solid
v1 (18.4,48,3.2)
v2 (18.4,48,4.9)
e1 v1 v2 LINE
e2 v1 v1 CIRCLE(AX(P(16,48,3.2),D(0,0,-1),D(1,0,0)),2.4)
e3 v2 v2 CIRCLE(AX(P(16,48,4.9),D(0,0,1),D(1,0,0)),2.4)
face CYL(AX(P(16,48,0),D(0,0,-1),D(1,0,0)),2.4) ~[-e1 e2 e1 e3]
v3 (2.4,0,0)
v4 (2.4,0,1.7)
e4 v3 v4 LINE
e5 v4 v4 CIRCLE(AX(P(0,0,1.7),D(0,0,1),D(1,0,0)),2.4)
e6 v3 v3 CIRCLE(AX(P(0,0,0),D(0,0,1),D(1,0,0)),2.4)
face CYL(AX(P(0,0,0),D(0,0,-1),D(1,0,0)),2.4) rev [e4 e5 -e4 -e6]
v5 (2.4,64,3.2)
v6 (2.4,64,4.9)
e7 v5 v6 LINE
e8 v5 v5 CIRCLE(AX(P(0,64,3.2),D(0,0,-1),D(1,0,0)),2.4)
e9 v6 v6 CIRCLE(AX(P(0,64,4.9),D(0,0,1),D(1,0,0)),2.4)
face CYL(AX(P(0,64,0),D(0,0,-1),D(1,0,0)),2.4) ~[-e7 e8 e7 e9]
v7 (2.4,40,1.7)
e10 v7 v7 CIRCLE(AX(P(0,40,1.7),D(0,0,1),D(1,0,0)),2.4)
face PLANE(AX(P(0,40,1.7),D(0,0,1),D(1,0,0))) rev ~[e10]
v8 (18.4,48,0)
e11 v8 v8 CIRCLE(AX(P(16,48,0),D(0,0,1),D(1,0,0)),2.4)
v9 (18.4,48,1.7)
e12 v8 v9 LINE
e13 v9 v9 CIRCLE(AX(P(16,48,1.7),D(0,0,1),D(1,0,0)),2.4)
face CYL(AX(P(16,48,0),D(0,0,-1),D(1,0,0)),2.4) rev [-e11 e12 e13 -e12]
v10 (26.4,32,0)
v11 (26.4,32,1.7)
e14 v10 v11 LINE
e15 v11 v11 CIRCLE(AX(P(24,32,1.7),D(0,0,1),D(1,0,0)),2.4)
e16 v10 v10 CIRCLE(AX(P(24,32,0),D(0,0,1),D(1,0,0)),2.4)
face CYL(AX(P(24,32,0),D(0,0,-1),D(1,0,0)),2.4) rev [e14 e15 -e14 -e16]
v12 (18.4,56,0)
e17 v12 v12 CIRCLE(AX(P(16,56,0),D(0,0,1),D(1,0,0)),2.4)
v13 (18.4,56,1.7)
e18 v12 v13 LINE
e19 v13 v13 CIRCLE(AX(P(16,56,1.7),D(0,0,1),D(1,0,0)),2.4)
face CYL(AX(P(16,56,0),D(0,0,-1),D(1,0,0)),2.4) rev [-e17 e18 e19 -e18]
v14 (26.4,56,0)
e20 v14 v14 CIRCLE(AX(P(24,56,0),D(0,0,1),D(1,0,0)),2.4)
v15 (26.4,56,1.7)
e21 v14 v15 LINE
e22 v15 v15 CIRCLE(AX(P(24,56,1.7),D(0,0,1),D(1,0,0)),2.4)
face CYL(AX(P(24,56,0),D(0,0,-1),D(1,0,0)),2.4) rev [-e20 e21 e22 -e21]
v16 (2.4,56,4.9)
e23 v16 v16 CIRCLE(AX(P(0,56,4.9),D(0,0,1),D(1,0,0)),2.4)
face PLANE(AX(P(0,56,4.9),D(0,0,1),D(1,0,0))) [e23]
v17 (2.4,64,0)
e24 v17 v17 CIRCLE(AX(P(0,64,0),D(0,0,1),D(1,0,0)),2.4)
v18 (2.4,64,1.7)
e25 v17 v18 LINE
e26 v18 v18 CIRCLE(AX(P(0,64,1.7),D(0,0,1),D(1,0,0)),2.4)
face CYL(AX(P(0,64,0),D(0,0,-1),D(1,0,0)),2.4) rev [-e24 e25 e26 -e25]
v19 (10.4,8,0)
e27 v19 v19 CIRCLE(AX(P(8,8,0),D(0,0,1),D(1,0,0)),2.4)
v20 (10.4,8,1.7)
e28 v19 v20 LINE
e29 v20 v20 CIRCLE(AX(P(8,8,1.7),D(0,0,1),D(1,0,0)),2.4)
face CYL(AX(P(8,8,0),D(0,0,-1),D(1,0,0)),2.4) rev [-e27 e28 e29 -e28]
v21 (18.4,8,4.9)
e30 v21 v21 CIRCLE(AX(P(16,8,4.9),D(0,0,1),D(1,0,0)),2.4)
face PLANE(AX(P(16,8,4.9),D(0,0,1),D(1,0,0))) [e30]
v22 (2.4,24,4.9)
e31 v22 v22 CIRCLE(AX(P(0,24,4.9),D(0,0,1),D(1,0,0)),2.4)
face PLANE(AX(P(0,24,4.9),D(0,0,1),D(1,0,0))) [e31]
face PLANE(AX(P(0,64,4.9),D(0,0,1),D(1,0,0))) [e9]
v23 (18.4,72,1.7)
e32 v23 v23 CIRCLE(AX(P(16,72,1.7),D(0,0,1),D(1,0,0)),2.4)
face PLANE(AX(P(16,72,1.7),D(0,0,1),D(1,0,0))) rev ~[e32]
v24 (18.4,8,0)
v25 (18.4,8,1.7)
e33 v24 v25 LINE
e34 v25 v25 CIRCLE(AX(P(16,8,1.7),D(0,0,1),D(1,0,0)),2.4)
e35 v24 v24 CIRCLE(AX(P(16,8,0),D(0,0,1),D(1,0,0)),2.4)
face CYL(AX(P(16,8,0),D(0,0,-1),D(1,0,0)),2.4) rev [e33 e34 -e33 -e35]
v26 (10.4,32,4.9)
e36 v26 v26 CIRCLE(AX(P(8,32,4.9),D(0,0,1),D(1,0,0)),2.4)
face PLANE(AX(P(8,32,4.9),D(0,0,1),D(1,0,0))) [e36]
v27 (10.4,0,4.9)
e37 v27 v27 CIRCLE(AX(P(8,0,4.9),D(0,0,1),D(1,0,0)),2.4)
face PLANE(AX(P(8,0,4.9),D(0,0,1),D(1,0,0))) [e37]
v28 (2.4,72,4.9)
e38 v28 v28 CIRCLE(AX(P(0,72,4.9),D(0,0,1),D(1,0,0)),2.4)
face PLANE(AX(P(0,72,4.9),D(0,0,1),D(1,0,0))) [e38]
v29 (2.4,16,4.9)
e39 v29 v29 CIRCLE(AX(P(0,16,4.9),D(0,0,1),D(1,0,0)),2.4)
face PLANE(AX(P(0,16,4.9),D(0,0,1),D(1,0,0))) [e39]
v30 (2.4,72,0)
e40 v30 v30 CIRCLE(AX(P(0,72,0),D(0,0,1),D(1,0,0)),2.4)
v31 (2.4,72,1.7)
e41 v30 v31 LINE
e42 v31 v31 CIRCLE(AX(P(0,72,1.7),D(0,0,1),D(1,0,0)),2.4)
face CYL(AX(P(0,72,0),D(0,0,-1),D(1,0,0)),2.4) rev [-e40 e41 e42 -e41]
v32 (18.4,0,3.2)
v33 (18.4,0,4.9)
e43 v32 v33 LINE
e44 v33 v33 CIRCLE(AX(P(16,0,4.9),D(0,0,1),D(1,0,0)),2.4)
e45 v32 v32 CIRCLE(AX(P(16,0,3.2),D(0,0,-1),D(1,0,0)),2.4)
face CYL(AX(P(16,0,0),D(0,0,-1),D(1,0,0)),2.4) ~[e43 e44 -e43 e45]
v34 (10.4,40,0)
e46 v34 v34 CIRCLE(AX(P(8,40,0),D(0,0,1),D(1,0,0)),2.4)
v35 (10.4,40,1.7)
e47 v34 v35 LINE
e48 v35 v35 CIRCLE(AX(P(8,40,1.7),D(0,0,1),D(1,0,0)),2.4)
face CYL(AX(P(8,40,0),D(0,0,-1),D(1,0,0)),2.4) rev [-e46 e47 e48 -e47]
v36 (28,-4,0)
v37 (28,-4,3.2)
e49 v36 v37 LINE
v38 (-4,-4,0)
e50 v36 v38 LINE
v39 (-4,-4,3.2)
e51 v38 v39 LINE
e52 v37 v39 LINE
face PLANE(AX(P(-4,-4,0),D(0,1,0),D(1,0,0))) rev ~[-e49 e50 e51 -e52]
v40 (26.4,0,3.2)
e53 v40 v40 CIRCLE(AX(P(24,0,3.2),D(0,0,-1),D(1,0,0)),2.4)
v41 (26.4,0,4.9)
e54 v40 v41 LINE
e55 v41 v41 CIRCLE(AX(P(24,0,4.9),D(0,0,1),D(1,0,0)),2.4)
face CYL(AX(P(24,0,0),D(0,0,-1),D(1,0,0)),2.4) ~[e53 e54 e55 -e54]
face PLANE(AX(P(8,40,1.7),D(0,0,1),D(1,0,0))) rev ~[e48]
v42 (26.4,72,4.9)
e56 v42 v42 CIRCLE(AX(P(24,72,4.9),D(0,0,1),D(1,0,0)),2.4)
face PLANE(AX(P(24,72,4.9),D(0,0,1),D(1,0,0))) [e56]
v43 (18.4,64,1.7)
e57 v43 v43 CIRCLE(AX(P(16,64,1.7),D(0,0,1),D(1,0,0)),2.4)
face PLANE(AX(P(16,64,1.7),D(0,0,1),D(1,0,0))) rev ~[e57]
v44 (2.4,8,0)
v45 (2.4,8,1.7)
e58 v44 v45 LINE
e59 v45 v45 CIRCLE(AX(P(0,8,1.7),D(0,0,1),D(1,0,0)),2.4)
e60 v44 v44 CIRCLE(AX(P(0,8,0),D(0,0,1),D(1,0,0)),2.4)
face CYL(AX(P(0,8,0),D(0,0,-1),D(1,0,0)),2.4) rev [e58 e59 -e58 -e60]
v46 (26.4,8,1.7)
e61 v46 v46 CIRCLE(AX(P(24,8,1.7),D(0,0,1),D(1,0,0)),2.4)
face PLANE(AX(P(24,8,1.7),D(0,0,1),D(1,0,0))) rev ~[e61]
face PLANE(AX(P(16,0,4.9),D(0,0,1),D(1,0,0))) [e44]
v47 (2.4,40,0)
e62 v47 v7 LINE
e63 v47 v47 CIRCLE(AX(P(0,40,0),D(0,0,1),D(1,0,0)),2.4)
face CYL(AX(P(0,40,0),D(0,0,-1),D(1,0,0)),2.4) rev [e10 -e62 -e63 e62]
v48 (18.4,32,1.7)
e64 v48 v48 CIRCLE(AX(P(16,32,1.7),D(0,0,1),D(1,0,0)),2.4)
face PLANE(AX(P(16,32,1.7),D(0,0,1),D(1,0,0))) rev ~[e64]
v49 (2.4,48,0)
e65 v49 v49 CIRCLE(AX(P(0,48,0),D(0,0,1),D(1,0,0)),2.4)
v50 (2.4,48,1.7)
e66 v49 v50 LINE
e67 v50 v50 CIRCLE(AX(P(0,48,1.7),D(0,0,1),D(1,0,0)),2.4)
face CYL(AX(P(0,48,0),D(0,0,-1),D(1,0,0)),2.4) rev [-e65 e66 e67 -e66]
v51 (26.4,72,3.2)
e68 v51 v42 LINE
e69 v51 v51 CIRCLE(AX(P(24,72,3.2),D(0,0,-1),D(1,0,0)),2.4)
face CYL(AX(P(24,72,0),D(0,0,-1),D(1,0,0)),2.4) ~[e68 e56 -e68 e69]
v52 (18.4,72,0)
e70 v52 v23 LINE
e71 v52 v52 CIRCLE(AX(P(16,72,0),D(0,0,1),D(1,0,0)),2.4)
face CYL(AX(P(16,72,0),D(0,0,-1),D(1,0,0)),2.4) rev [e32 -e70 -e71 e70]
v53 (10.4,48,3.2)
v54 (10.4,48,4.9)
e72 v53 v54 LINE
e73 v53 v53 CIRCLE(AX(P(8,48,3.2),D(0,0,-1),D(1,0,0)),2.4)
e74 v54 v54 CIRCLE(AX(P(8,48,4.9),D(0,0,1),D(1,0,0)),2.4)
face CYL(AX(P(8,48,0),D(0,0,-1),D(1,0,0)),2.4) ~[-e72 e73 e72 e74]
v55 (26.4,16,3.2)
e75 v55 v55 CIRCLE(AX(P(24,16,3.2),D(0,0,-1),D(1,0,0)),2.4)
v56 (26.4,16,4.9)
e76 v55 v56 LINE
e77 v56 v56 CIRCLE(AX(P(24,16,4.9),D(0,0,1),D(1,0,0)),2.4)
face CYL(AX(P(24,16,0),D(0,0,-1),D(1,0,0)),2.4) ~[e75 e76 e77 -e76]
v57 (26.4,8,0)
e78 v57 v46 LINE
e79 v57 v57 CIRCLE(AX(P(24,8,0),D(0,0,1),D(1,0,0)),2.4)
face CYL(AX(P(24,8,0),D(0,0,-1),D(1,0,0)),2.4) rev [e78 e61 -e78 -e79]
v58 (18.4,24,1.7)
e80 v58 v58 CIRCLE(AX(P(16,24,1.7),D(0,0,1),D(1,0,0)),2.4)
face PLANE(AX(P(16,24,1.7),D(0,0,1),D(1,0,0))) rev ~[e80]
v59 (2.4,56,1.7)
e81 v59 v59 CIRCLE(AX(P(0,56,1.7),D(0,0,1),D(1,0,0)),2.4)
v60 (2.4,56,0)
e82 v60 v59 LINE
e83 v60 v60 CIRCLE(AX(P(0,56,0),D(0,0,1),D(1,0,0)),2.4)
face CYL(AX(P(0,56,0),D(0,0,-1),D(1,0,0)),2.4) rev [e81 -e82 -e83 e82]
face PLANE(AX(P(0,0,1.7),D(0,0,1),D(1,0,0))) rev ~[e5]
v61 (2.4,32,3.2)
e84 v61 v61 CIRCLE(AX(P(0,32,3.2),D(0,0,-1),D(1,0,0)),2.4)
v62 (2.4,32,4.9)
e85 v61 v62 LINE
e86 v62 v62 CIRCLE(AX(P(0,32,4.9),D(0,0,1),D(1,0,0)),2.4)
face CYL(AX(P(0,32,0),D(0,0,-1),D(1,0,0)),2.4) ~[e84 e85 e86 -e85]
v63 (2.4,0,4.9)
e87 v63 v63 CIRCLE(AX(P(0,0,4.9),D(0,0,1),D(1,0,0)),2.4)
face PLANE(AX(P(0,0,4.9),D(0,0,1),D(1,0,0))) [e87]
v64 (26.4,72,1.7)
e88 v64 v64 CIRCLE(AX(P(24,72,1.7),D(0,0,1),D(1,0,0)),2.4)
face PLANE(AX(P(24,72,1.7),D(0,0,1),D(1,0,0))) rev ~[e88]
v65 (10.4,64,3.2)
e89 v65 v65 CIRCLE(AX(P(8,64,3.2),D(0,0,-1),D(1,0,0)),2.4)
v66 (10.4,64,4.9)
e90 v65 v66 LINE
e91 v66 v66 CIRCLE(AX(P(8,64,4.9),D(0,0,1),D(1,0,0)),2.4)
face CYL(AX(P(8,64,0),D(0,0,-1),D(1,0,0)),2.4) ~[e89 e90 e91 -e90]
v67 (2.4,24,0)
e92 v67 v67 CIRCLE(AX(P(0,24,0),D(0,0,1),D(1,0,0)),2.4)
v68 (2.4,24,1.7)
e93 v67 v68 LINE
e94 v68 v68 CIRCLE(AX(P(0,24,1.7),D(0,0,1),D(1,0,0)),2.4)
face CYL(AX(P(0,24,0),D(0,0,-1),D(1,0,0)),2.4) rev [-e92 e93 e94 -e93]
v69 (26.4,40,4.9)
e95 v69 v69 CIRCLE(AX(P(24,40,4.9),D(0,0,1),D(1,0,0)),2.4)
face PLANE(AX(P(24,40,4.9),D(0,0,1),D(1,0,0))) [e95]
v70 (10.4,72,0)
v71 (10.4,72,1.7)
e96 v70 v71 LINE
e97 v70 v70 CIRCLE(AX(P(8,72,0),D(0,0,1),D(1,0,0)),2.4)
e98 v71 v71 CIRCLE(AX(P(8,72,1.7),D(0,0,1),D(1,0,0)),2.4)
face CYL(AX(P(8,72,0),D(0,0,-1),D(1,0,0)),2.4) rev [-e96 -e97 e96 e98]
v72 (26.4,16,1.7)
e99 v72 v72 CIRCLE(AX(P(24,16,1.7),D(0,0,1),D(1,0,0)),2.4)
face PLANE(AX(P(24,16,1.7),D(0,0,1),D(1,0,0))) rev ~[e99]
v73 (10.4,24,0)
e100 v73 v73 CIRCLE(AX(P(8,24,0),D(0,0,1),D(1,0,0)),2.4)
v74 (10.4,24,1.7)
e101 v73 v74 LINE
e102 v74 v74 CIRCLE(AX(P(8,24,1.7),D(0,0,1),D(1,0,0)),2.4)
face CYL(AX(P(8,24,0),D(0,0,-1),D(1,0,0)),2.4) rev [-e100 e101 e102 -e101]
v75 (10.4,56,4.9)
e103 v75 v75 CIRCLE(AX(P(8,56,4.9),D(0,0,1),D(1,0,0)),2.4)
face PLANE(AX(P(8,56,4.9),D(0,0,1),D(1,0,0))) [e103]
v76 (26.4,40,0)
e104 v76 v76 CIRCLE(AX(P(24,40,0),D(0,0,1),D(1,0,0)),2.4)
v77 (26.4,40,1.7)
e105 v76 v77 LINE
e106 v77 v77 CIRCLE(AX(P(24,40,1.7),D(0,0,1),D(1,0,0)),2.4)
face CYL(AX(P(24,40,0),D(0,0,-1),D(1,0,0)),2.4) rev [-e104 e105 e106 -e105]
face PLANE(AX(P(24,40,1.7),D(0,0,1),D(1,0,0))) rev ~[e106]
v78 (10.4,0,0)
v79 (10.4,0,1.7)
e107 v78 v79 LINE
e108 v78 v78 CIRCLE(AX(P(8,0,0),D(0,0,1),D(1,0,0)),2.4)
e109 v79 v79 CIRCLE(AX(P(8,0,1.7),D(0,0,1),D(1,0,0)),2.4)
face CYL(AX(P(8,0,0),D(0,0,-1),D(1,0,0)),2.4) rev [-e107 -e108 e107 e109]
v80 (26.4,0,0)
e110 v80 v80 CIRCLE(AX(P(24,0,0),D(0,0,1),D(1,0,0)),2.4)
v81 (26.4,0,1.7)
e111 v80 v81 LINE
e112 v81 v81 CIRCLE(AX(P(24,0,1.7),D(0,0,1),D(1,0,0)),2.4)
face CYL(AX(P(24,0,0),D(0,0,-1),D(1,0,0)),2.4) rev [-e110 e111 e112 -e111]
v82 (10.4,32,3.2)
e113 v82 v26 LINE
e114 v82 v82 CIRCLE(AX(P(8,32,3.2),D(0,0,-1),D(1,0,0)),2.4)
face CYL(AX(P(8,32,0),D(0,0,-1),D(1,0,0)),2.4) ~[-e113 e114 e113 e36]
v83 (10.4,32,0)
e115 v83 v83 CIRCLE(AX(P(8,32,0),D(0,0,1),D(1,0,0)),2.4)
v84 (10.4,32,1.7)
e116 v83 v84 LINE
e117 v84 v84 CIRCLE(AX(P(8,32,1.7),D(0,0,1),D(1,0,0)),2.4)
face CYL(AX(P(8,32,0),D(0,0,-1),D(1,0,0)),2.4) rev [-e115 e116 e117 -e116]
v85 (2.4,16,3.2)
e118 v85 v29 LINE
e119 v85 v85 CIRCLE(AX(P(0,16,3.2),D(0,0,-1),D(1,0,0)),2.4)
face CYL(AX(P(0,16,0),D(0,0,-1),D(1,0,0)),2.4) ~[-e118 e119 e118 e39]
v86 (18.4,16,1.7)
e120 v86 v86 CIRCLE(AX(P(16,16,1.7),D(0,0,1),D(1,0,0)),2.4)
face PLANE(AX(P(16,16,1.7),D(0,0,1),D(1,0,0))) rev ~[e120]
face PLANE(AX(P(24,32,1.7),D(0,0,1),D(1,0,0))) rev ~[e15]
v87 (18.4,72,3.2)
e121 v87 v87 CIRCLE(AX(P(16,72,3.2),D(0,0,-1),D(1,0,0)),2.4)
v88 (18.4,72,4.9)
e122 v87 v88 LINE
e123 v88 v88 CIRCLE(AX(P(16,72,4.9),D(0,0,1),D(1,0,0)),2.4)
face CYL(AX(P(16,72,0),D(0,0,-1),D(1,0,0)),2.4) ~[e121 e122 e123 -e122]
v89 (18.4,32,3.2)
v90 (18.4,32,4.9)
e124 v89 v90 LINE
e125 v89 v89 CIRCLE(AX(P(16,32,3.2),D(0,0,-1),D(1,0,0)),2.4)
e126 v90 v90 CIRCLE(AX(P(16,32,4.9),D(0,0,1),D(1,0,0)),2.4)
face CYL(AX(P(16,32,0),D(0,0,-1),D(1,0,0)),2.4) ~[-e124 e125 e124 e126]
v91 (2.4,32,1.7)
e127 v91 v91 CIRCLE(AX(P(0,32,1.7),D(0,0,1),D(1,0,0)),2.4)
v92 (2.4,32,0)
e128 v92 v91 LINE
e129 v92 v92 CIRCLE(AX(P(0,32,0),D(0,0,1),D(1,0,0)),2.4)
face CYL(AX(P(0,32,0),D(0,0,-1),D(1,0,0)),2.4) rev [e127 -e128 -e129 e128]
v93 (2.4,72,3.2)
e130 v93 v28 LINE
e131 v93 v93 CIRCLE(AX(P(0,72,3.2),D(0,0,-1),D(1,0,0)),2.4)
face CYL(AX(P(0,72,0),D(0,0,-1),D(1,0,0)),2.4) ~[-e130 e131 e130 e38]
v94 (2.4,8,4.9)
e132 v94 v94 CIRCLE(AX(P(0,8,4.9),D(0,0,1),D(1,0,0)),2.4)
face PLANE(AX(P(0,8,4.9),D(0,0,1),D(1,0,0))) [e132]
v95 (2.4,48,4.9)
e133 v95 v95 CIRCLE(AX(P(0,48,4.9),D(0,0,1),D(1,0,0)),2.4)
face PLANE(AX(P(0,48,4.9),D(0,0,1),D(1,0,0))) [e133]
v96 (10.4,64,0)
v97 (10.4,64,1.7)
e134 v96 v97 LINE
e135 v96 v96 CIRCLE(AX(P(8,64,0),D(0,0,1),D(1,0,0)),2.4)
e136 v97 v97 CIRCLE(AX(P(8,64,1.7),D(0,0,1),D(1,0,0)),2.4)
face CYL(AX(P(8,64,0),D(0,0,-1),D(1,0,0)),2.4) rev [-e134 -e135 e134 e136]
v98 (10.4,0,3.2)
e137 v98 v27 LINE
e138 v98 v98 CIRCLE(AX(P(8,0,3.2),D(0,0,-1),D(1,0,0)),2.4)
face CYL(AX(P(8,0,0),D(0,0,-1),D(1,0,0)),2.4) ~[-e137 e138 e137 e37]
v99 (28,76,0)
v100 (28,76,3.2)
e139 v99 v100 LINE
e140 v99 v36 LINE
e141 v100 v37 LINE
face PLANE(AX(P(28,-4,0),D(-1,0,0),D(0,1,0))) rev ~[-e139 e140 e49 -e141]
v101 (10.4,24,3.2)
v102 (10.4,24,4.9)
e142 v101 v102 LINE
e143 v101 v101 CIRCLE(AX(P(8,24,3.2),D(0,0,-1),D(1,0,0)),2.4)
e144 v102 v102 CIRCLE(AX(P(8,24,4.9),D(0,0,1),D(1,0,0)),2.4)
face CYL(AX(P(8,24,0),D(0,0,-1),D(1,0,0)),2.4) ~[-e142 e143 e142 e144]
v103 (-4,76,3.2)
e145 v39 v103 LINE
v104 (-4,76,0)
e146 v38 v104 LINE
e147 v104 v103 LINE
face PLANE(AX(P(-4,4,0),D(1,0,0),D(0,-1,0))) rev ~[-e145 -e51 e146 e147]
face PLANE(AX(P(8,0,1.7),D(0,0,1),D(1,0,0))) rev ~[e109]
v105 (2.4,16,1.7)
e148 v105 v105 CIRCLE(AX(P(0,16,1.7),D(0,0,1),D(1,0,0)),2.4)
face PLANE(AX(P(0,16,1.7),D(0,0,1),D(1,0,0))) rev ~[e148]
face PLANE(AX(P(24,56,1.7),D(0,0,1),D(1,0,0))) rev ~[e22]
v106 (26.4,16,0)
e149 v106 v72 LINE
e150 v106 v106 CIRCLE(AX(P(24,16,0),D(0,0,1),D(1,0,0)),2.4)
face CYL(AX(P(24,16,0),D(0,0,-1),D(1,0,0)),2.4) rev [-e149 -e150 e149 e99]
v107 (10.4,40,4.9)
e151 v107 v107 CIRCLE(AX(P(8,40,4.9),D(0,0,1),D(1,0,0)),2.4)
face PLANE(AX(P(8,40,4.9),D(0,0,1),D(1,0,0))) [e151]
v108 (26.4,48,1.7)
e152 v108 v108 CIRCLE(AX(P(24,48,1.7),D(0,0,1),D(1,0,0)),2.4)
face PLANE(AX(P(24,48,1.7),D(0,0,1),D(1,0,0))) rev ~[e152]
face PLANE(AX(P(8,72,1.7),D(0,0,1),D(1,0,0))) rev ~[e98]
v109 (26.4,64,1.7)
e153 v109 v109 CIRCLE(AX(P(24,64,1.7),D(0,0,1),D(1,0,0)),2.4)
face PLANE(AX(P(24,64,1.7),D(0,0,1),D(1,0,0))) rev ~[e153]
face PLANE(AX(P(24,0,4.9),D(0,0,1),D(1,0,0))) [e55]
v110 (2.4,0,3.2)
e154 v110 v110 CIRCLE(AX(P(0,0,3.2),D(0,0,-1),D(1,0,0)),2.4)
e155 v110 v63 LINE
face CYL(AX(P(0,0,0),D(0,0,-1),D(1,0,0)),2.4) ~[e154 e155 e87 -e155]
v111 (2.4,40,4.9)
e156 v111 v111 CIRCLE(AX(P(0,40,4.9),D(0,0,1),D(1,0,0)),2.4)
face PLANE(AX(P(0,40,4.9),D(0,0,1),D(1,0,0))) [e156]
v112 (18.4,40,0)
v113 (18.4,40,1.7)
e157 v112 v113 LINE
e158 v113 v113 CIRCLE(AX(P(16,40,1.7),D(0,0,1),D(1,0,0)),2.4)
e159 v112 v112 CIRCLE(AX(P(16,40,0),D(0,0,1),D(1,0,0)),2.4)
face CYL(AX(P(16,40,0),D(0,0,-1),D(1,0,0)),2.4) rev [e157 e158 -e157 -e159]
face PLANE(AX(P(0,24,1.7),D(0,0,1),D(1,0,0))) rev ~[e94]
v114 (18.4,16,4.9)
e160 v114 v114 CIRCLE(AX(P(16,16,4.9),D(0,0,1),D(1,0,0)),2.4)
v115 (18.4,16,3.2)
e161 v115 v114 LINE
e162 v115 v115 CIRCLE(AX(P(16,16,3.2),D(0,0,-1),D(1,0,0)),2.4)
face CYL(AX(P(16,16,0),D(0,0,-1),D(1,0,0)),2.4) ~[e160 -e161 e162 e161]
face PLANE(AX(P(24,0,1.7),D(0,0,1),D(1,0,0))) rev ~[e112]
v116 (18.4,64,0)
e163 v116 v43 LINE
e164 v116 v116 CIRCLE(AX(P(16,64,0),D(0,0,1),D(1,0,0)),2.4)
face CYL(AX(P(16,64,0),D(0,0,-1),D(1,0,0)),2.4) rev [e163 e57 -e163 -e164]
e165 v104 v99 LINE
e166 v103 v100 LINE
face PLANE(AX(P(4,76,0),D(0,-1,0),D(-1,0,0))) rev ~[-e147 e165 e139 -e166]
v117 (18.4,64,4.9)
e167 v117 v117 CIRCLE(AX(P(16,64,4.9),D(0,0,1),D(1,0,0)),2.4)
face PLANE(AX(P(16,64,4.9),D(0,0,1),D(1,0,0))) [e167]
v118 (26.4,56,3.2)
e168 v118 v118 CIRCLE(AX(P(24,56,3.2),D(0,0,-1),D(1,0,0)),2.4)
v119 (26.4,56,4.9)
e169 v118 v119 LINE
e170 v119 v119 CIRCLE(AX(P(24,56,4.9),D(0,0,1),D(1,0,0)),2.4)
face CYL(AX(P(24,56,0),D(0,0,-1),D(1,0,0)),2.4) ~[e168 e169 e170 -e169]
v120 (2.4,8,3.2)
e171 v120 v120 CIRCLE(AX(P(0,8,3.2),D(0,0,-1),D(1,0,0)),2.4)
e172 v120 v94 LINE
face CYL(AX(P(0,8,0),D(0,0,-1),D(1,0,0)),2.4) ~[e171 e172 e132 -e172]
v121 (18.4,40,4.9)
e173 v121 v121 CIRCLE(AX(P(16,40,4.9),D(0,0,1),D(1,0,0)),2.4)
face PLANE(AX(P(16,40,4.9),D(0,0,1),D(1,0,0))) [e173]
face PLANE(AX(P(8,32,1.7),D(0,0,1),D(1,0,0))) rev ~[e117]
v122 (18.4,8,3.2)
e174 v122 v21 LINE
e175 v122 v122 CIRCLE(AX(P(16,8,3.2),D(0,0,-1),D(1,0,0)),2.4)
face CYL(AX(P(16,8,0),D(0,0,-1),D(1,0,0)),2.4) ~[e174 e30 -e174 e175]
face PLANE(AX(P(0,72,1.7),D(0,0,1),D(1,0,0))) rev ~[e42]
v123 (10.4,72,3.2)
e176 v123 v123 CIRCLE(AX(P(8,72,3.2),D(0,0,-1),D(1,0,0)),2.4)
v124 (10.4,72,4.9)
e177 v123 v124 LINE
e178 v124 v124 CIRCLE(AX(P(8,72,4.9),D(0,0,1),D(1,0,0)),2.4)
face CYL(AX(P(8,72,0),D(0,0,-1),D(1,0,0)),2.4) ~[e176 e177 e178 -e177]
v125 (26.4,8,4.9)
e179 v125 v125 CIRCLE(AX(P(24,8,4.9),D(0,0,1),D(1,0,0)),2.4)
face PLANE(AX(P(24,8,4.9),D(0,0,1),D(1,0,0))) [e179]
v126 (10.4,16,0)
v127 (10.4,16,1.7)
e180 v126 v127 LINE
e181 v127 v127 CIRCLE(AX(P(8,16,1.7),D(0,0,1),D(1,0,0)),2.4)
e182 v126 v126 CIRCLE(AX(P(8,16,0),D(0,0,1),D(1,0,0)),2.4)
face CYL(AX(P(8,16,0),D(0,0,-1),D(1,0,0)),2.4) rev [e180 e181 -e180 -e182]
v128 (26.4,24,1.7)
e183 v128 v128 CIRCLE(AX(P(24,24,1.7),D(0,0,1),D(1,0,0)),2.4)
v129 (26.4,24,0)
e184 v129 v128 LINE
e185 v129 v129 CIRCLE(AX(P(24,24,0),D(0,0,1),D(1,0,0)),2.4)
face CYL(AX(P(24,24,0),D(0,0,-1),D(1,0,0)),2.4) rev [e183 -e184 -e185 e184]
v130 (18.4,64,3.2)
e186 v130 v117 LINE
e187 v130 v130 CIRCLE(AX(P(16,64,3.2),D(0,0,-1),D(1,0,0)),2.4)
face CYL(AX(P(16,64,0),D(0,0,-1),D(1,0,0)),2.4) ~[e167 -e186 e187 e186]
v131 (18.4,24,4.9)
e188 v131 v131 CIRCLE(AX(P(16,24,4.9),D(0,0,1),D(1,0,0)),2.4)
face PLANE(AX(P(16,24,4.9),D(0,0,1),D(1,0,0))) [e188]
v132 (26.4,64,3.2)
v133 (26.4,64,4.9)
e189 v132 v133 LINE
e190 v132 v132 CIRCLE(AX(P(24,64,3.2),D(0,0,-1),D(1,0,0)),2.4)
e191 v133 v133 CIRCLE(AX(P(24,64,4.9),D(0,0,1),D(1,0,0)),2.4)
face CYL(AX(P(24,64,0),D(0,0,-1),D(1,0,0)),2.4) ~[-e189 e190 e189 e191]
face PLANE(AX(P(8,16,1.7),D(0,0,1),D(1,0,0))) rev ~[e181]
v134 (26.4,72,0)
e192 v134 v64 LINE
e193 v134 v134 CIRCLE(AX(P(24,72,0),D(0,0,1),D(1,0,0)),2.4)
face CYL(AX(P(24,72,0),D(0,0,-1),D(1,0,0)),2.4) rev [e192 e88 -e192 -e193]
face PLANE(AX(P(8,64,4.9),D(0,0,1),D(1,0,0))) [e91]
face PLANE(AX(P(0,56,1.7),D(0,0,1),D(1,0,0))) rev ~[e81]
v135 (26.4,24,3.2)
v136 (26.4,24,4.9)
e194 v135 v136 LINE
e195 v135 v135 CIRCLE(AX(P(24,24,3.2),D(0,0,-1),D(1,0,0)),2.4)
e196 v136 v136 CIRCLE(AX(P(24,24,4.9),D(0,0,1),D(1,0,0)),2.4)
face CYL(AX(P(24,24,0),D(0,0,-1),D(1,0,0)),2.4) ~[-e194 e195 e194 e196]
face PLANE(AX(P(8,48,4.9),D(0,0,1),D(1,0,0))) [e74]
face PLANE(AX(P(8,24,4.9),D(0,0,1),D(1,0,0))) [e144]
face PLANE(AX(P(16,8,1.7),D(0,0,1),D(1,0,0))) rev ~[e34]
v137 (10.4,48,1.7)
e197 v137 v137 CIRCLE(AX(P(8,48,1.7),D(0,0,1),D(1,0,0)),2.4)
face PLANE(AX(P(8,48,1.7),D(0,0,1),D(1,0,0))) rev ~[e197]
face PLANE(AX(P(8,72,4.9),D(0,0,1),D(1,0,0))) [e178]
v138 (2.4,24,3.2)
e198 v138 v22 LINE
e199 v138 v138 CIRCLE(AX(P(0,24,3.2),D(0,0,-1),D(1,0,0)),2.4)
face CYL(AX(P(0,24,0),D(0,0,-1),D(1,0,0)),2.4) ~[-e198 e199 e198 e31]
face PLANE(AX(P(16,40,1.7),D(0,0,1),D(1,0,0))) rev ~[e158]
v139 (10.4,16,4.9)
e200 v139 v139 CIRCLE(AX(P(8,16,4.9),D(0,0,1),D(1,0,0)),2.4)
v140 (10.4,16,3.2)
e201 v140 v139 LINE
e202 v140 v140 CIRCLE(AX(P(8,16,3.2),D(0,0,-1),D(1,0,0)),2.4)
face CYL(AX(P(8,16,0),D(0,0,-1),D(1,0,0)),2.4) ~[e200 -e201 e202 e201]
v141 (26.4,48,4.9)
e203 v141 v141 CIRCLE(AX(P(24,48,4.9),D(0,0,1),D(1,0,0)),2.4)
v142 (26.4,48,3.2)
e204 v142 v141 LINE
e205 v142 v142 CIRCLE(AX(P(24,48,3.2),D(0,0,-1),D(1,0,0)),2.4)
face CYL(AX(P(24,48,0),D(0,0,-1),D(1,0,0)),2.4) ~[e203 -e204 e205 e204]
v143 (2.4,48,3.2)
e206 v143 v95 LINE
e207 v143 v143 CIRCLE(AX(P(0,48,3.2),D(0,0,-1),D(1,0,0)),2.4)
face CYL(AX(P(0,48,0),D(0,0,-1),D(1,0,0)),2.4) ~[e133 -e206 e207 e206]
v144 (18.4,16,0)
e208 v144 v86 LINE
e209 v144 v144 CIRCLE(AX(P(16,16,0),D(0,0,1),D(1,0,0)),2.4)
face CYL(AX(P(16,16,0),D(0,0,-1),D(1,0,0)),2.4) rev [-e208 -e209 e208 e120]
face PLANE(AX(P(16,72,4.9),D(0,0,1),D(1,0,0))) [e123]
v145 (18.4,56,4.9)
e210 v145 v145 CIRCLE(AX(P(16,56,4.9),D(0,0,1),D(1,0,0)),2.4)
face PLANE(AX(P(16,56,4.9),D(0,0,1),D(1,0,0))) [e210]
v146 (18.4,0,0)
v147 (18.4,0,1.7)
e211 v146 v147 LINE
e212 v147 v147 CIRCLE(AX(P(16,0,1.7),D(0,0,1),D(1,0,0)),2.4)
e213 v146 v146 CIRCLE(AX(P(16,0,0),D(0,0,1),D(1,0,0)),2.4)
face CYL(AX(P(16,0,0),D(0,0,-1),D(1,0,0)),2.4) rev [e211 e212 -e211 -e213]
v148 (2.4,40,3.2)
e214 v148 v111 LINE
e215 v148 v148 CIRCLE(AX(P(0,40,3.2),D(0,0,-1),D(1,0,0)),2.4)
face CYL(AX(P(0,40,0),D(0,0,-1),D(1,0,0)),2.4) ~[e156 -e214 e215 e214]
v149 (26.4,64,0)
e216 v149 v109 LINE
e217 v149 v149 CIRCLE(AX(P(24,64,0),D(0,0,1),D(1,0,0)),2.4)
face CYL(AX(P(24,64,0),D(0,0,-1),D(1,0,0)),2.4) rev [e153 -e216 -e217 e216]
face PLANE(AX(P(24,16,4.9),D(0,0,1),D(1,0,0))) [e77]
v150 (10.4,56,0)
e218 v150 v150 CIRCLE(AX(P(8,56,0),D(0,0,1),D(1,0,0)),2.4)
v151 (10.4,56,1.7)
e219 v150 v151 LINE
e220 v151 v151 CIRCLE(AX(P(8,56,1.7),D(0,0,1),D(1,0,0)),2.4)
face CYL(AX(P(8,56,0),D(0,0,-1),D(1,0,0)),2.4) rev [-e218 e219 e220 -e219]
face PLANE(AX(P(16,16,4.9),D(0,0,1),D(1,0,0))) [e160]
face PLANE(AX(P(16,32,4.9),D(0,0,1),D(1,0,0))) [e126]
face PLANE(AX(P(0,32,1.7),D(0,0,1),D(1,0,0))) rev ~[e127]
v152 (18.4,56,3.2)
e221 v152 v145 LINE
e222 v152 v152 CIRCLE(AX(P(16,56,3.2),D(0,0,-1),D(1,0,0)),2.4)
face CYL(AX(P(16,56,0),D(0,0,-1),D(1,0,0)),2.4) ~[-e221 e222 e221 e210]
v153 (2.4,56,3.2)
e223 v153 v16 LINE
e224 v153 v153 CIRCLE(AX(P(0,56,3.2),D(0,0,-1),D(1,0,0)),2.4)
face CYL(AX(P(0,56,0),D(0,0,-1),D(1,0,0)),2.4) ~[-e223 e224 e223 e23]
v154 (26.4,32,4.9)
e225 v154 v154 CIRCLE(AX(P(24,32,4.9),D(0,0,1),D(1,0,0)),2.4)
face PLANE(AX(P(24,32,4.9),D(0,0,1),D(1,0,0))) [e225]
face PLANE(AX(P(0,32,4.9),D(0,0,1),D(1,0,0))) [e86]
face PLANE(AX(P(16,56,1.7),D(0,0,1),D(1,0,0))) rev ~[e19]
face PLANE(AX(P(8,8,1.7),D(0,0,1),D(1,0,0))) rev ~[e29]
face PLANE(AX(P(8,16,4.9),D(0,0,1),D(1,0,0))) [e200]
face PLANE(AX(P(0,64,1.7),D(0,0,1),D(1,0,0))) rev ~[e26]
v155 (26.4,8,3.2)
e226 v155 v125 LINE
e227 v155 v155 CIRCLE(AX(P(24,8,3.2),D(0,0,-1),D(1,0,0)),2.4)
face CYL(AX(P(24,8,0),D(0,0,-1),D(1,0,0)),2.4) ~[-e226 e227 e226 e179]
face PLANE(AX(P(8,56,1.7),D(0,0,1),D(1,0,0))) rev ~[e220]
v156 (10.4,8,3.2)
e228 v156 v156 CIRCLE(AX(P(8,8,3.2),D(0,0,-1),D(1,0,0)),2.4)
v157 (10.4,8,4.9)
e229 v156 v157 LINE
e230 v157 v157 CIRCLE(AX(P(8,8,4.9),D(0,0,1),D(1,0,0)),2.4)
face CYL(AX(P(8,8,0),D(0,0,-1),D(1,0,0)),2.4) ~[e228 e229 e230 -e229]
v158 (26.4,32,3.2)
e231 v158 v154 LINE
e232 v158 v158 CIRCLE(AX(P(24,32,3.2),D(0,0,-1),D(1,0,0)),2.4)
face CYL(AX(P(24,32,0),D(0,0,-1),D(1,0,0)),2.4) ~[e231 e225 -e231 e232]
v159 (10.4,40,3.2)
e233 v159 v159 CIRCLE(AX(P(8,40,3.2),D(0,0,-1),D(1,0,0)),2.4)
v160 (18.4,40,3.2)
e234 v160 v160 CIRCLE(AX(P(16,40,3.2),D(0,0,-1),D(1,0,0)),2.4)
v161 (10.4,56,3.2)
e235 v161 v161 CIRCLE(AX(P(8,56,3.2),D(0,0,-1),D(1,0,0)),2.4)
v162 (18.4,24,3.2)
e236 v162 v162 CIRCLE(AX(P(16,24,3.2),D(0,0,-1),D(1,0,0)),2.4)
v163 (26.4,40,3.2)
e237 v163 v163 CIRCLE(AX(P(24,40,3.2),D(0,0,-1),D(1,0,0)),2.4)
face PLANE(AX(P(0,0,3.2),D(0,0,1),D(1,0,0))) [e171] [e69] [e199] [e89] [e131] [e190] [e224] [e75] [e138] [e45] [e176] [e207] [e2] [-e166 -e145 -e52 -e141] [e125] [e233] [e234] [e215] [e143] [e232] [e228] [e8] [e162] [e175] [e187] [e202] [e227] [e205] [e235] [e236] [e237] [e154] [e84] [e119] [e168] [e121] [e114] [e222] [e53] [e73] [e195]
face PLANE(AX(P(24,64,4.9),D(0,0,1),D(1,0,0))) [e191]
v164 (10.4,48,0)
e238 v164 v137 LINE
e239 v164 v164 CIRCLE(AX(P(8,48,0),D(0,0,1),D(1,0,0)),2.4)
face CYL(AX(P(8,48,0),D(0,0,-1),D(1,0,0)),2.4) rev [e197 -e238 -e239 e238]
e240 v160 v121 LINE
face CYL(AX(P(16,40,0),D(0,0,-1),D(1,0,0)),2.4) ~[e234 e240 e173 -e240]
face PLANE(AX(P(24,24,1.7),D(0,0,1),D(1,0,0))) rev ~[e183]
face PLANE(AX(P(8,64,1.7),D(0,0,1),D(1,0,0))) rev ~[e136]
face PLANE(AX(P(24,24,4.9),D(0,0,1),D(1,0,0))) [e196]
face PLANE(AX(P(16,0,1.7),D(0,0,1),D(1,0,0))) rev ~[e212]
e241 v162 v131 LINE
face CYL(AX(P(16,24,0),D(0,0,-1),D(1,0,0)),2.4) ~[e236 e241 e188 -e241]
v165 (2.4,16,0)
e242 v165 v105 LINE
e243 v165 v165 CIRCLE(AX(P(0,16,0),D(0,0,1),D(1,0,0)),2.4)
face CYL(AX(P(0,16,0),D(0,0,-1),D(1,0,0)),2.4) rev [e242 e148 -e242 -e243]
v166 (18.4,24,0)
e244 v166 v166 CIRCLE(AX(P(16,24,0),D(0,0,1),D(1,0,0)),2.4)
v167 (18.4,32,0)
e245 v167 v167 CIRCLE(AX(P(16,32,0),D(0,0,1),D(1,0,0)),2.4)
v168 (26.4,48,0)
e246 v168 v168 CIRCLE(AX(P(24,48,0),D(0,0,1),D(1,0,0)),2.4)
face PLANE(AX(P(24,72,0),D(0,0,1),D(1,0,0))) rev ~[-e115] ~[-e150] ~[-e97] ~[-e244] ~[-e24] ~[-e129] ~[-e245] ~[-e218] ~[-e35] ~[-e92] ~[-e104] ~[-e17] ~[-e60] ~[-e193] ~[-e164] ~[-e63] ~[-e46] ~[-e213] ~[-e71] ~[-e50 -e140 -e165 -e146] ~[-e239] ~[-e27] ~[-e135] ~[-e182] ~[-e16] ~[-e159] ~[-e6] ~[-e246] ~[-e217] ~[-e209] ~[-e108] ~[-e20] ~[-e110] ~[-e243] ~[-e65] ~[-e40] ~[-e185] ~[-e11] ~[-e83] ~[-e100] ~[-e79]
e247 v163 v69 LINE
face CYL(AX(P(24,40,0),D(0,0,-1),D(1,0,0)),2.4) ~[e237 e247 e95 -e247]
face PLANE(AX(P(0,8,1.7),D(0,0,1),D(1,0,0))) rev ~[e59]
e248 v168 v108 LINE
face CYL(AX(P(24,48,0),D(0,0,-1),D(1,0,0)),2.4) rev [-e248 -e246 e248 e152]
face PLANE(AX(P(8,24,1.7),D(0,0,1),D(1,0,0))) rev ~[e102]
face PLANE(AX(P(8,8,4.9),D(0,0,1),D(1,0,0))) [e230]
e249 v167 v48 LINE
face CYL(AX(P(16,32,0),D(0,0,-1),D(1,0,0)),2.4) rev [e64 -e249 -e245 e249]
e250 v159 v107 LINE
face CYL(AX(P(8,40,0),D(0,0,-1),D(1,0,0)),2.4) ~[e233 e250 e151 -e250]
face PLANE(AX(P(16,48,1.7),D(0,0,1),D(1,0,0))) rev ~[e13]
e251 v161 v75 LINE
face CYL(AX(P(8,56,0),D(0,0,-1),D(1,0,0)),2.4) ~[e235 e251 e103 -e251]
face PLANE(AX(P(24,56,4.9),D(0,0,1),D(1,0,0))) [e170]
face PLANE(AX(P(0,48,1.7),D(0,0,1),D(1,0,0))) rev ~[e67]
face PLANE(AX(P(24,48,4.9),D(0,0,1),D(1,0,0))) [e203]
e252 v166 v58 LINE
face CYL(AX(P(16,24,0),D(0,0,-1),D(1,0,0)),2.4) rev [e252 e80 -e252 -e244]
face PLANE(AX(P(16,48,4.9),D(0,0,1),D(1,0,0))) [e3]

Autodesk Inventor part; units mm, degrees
ref_plane "YZ Plane" through (0, 0, 0) normal (1, 0, 0) x (0, 1, 0)
ref_plane "XZ Plane" through (0, 0, 0) normal (0, 1, 0) x (-1, 0, 0)
ref_plane "XY Plane" through (0, 0, 0) normal (0, 0, 1) x (1, 0, 0)
sketch "Sketch1" plane through (0, 0, 0) normal (0, 0, 1) x (1, 0, 0)
  line L0 (-4, -4) -> (4, -4)
  line L1 (4, -4) -> (4, 4)
  line L2 (4, 4) -> (-4, 4)
  line L3 (-4, 4) -> (-4, -4)
  line L4 (-4, -4) -> (4, 4) construction
  line L5 (4, -4) -> (-4, 4) construction
  circle A0 centre (0, 0) radius 2.4
  dimension "d0" = 8
  dimension "d1" = 8
  dimension "d2" = 4.8
extrude "Extrusion1" add sketch "Sketch1" along normal blind 3.2 contours L3 L2 L1 L0 | A0
extrude "Extrusion2" add sketch "Sketch1" along normal blind 4.9 contours A0
extrude "Extrusion3" cut sketch "Sketch1" along normal blind 1.7 contours A0
pattern_linear "Rectangular Pattern1" count 10 spacing 8 along (0, 1, 0) count 4 spacing 8 along (1, 0, 0) of "Extrusion1", "Extrusion2", "Extrusion3"
equation "\"d11\" = d0"
equation "\"d24\" = d0"
properties part number "LEGO Plate 4x10"
